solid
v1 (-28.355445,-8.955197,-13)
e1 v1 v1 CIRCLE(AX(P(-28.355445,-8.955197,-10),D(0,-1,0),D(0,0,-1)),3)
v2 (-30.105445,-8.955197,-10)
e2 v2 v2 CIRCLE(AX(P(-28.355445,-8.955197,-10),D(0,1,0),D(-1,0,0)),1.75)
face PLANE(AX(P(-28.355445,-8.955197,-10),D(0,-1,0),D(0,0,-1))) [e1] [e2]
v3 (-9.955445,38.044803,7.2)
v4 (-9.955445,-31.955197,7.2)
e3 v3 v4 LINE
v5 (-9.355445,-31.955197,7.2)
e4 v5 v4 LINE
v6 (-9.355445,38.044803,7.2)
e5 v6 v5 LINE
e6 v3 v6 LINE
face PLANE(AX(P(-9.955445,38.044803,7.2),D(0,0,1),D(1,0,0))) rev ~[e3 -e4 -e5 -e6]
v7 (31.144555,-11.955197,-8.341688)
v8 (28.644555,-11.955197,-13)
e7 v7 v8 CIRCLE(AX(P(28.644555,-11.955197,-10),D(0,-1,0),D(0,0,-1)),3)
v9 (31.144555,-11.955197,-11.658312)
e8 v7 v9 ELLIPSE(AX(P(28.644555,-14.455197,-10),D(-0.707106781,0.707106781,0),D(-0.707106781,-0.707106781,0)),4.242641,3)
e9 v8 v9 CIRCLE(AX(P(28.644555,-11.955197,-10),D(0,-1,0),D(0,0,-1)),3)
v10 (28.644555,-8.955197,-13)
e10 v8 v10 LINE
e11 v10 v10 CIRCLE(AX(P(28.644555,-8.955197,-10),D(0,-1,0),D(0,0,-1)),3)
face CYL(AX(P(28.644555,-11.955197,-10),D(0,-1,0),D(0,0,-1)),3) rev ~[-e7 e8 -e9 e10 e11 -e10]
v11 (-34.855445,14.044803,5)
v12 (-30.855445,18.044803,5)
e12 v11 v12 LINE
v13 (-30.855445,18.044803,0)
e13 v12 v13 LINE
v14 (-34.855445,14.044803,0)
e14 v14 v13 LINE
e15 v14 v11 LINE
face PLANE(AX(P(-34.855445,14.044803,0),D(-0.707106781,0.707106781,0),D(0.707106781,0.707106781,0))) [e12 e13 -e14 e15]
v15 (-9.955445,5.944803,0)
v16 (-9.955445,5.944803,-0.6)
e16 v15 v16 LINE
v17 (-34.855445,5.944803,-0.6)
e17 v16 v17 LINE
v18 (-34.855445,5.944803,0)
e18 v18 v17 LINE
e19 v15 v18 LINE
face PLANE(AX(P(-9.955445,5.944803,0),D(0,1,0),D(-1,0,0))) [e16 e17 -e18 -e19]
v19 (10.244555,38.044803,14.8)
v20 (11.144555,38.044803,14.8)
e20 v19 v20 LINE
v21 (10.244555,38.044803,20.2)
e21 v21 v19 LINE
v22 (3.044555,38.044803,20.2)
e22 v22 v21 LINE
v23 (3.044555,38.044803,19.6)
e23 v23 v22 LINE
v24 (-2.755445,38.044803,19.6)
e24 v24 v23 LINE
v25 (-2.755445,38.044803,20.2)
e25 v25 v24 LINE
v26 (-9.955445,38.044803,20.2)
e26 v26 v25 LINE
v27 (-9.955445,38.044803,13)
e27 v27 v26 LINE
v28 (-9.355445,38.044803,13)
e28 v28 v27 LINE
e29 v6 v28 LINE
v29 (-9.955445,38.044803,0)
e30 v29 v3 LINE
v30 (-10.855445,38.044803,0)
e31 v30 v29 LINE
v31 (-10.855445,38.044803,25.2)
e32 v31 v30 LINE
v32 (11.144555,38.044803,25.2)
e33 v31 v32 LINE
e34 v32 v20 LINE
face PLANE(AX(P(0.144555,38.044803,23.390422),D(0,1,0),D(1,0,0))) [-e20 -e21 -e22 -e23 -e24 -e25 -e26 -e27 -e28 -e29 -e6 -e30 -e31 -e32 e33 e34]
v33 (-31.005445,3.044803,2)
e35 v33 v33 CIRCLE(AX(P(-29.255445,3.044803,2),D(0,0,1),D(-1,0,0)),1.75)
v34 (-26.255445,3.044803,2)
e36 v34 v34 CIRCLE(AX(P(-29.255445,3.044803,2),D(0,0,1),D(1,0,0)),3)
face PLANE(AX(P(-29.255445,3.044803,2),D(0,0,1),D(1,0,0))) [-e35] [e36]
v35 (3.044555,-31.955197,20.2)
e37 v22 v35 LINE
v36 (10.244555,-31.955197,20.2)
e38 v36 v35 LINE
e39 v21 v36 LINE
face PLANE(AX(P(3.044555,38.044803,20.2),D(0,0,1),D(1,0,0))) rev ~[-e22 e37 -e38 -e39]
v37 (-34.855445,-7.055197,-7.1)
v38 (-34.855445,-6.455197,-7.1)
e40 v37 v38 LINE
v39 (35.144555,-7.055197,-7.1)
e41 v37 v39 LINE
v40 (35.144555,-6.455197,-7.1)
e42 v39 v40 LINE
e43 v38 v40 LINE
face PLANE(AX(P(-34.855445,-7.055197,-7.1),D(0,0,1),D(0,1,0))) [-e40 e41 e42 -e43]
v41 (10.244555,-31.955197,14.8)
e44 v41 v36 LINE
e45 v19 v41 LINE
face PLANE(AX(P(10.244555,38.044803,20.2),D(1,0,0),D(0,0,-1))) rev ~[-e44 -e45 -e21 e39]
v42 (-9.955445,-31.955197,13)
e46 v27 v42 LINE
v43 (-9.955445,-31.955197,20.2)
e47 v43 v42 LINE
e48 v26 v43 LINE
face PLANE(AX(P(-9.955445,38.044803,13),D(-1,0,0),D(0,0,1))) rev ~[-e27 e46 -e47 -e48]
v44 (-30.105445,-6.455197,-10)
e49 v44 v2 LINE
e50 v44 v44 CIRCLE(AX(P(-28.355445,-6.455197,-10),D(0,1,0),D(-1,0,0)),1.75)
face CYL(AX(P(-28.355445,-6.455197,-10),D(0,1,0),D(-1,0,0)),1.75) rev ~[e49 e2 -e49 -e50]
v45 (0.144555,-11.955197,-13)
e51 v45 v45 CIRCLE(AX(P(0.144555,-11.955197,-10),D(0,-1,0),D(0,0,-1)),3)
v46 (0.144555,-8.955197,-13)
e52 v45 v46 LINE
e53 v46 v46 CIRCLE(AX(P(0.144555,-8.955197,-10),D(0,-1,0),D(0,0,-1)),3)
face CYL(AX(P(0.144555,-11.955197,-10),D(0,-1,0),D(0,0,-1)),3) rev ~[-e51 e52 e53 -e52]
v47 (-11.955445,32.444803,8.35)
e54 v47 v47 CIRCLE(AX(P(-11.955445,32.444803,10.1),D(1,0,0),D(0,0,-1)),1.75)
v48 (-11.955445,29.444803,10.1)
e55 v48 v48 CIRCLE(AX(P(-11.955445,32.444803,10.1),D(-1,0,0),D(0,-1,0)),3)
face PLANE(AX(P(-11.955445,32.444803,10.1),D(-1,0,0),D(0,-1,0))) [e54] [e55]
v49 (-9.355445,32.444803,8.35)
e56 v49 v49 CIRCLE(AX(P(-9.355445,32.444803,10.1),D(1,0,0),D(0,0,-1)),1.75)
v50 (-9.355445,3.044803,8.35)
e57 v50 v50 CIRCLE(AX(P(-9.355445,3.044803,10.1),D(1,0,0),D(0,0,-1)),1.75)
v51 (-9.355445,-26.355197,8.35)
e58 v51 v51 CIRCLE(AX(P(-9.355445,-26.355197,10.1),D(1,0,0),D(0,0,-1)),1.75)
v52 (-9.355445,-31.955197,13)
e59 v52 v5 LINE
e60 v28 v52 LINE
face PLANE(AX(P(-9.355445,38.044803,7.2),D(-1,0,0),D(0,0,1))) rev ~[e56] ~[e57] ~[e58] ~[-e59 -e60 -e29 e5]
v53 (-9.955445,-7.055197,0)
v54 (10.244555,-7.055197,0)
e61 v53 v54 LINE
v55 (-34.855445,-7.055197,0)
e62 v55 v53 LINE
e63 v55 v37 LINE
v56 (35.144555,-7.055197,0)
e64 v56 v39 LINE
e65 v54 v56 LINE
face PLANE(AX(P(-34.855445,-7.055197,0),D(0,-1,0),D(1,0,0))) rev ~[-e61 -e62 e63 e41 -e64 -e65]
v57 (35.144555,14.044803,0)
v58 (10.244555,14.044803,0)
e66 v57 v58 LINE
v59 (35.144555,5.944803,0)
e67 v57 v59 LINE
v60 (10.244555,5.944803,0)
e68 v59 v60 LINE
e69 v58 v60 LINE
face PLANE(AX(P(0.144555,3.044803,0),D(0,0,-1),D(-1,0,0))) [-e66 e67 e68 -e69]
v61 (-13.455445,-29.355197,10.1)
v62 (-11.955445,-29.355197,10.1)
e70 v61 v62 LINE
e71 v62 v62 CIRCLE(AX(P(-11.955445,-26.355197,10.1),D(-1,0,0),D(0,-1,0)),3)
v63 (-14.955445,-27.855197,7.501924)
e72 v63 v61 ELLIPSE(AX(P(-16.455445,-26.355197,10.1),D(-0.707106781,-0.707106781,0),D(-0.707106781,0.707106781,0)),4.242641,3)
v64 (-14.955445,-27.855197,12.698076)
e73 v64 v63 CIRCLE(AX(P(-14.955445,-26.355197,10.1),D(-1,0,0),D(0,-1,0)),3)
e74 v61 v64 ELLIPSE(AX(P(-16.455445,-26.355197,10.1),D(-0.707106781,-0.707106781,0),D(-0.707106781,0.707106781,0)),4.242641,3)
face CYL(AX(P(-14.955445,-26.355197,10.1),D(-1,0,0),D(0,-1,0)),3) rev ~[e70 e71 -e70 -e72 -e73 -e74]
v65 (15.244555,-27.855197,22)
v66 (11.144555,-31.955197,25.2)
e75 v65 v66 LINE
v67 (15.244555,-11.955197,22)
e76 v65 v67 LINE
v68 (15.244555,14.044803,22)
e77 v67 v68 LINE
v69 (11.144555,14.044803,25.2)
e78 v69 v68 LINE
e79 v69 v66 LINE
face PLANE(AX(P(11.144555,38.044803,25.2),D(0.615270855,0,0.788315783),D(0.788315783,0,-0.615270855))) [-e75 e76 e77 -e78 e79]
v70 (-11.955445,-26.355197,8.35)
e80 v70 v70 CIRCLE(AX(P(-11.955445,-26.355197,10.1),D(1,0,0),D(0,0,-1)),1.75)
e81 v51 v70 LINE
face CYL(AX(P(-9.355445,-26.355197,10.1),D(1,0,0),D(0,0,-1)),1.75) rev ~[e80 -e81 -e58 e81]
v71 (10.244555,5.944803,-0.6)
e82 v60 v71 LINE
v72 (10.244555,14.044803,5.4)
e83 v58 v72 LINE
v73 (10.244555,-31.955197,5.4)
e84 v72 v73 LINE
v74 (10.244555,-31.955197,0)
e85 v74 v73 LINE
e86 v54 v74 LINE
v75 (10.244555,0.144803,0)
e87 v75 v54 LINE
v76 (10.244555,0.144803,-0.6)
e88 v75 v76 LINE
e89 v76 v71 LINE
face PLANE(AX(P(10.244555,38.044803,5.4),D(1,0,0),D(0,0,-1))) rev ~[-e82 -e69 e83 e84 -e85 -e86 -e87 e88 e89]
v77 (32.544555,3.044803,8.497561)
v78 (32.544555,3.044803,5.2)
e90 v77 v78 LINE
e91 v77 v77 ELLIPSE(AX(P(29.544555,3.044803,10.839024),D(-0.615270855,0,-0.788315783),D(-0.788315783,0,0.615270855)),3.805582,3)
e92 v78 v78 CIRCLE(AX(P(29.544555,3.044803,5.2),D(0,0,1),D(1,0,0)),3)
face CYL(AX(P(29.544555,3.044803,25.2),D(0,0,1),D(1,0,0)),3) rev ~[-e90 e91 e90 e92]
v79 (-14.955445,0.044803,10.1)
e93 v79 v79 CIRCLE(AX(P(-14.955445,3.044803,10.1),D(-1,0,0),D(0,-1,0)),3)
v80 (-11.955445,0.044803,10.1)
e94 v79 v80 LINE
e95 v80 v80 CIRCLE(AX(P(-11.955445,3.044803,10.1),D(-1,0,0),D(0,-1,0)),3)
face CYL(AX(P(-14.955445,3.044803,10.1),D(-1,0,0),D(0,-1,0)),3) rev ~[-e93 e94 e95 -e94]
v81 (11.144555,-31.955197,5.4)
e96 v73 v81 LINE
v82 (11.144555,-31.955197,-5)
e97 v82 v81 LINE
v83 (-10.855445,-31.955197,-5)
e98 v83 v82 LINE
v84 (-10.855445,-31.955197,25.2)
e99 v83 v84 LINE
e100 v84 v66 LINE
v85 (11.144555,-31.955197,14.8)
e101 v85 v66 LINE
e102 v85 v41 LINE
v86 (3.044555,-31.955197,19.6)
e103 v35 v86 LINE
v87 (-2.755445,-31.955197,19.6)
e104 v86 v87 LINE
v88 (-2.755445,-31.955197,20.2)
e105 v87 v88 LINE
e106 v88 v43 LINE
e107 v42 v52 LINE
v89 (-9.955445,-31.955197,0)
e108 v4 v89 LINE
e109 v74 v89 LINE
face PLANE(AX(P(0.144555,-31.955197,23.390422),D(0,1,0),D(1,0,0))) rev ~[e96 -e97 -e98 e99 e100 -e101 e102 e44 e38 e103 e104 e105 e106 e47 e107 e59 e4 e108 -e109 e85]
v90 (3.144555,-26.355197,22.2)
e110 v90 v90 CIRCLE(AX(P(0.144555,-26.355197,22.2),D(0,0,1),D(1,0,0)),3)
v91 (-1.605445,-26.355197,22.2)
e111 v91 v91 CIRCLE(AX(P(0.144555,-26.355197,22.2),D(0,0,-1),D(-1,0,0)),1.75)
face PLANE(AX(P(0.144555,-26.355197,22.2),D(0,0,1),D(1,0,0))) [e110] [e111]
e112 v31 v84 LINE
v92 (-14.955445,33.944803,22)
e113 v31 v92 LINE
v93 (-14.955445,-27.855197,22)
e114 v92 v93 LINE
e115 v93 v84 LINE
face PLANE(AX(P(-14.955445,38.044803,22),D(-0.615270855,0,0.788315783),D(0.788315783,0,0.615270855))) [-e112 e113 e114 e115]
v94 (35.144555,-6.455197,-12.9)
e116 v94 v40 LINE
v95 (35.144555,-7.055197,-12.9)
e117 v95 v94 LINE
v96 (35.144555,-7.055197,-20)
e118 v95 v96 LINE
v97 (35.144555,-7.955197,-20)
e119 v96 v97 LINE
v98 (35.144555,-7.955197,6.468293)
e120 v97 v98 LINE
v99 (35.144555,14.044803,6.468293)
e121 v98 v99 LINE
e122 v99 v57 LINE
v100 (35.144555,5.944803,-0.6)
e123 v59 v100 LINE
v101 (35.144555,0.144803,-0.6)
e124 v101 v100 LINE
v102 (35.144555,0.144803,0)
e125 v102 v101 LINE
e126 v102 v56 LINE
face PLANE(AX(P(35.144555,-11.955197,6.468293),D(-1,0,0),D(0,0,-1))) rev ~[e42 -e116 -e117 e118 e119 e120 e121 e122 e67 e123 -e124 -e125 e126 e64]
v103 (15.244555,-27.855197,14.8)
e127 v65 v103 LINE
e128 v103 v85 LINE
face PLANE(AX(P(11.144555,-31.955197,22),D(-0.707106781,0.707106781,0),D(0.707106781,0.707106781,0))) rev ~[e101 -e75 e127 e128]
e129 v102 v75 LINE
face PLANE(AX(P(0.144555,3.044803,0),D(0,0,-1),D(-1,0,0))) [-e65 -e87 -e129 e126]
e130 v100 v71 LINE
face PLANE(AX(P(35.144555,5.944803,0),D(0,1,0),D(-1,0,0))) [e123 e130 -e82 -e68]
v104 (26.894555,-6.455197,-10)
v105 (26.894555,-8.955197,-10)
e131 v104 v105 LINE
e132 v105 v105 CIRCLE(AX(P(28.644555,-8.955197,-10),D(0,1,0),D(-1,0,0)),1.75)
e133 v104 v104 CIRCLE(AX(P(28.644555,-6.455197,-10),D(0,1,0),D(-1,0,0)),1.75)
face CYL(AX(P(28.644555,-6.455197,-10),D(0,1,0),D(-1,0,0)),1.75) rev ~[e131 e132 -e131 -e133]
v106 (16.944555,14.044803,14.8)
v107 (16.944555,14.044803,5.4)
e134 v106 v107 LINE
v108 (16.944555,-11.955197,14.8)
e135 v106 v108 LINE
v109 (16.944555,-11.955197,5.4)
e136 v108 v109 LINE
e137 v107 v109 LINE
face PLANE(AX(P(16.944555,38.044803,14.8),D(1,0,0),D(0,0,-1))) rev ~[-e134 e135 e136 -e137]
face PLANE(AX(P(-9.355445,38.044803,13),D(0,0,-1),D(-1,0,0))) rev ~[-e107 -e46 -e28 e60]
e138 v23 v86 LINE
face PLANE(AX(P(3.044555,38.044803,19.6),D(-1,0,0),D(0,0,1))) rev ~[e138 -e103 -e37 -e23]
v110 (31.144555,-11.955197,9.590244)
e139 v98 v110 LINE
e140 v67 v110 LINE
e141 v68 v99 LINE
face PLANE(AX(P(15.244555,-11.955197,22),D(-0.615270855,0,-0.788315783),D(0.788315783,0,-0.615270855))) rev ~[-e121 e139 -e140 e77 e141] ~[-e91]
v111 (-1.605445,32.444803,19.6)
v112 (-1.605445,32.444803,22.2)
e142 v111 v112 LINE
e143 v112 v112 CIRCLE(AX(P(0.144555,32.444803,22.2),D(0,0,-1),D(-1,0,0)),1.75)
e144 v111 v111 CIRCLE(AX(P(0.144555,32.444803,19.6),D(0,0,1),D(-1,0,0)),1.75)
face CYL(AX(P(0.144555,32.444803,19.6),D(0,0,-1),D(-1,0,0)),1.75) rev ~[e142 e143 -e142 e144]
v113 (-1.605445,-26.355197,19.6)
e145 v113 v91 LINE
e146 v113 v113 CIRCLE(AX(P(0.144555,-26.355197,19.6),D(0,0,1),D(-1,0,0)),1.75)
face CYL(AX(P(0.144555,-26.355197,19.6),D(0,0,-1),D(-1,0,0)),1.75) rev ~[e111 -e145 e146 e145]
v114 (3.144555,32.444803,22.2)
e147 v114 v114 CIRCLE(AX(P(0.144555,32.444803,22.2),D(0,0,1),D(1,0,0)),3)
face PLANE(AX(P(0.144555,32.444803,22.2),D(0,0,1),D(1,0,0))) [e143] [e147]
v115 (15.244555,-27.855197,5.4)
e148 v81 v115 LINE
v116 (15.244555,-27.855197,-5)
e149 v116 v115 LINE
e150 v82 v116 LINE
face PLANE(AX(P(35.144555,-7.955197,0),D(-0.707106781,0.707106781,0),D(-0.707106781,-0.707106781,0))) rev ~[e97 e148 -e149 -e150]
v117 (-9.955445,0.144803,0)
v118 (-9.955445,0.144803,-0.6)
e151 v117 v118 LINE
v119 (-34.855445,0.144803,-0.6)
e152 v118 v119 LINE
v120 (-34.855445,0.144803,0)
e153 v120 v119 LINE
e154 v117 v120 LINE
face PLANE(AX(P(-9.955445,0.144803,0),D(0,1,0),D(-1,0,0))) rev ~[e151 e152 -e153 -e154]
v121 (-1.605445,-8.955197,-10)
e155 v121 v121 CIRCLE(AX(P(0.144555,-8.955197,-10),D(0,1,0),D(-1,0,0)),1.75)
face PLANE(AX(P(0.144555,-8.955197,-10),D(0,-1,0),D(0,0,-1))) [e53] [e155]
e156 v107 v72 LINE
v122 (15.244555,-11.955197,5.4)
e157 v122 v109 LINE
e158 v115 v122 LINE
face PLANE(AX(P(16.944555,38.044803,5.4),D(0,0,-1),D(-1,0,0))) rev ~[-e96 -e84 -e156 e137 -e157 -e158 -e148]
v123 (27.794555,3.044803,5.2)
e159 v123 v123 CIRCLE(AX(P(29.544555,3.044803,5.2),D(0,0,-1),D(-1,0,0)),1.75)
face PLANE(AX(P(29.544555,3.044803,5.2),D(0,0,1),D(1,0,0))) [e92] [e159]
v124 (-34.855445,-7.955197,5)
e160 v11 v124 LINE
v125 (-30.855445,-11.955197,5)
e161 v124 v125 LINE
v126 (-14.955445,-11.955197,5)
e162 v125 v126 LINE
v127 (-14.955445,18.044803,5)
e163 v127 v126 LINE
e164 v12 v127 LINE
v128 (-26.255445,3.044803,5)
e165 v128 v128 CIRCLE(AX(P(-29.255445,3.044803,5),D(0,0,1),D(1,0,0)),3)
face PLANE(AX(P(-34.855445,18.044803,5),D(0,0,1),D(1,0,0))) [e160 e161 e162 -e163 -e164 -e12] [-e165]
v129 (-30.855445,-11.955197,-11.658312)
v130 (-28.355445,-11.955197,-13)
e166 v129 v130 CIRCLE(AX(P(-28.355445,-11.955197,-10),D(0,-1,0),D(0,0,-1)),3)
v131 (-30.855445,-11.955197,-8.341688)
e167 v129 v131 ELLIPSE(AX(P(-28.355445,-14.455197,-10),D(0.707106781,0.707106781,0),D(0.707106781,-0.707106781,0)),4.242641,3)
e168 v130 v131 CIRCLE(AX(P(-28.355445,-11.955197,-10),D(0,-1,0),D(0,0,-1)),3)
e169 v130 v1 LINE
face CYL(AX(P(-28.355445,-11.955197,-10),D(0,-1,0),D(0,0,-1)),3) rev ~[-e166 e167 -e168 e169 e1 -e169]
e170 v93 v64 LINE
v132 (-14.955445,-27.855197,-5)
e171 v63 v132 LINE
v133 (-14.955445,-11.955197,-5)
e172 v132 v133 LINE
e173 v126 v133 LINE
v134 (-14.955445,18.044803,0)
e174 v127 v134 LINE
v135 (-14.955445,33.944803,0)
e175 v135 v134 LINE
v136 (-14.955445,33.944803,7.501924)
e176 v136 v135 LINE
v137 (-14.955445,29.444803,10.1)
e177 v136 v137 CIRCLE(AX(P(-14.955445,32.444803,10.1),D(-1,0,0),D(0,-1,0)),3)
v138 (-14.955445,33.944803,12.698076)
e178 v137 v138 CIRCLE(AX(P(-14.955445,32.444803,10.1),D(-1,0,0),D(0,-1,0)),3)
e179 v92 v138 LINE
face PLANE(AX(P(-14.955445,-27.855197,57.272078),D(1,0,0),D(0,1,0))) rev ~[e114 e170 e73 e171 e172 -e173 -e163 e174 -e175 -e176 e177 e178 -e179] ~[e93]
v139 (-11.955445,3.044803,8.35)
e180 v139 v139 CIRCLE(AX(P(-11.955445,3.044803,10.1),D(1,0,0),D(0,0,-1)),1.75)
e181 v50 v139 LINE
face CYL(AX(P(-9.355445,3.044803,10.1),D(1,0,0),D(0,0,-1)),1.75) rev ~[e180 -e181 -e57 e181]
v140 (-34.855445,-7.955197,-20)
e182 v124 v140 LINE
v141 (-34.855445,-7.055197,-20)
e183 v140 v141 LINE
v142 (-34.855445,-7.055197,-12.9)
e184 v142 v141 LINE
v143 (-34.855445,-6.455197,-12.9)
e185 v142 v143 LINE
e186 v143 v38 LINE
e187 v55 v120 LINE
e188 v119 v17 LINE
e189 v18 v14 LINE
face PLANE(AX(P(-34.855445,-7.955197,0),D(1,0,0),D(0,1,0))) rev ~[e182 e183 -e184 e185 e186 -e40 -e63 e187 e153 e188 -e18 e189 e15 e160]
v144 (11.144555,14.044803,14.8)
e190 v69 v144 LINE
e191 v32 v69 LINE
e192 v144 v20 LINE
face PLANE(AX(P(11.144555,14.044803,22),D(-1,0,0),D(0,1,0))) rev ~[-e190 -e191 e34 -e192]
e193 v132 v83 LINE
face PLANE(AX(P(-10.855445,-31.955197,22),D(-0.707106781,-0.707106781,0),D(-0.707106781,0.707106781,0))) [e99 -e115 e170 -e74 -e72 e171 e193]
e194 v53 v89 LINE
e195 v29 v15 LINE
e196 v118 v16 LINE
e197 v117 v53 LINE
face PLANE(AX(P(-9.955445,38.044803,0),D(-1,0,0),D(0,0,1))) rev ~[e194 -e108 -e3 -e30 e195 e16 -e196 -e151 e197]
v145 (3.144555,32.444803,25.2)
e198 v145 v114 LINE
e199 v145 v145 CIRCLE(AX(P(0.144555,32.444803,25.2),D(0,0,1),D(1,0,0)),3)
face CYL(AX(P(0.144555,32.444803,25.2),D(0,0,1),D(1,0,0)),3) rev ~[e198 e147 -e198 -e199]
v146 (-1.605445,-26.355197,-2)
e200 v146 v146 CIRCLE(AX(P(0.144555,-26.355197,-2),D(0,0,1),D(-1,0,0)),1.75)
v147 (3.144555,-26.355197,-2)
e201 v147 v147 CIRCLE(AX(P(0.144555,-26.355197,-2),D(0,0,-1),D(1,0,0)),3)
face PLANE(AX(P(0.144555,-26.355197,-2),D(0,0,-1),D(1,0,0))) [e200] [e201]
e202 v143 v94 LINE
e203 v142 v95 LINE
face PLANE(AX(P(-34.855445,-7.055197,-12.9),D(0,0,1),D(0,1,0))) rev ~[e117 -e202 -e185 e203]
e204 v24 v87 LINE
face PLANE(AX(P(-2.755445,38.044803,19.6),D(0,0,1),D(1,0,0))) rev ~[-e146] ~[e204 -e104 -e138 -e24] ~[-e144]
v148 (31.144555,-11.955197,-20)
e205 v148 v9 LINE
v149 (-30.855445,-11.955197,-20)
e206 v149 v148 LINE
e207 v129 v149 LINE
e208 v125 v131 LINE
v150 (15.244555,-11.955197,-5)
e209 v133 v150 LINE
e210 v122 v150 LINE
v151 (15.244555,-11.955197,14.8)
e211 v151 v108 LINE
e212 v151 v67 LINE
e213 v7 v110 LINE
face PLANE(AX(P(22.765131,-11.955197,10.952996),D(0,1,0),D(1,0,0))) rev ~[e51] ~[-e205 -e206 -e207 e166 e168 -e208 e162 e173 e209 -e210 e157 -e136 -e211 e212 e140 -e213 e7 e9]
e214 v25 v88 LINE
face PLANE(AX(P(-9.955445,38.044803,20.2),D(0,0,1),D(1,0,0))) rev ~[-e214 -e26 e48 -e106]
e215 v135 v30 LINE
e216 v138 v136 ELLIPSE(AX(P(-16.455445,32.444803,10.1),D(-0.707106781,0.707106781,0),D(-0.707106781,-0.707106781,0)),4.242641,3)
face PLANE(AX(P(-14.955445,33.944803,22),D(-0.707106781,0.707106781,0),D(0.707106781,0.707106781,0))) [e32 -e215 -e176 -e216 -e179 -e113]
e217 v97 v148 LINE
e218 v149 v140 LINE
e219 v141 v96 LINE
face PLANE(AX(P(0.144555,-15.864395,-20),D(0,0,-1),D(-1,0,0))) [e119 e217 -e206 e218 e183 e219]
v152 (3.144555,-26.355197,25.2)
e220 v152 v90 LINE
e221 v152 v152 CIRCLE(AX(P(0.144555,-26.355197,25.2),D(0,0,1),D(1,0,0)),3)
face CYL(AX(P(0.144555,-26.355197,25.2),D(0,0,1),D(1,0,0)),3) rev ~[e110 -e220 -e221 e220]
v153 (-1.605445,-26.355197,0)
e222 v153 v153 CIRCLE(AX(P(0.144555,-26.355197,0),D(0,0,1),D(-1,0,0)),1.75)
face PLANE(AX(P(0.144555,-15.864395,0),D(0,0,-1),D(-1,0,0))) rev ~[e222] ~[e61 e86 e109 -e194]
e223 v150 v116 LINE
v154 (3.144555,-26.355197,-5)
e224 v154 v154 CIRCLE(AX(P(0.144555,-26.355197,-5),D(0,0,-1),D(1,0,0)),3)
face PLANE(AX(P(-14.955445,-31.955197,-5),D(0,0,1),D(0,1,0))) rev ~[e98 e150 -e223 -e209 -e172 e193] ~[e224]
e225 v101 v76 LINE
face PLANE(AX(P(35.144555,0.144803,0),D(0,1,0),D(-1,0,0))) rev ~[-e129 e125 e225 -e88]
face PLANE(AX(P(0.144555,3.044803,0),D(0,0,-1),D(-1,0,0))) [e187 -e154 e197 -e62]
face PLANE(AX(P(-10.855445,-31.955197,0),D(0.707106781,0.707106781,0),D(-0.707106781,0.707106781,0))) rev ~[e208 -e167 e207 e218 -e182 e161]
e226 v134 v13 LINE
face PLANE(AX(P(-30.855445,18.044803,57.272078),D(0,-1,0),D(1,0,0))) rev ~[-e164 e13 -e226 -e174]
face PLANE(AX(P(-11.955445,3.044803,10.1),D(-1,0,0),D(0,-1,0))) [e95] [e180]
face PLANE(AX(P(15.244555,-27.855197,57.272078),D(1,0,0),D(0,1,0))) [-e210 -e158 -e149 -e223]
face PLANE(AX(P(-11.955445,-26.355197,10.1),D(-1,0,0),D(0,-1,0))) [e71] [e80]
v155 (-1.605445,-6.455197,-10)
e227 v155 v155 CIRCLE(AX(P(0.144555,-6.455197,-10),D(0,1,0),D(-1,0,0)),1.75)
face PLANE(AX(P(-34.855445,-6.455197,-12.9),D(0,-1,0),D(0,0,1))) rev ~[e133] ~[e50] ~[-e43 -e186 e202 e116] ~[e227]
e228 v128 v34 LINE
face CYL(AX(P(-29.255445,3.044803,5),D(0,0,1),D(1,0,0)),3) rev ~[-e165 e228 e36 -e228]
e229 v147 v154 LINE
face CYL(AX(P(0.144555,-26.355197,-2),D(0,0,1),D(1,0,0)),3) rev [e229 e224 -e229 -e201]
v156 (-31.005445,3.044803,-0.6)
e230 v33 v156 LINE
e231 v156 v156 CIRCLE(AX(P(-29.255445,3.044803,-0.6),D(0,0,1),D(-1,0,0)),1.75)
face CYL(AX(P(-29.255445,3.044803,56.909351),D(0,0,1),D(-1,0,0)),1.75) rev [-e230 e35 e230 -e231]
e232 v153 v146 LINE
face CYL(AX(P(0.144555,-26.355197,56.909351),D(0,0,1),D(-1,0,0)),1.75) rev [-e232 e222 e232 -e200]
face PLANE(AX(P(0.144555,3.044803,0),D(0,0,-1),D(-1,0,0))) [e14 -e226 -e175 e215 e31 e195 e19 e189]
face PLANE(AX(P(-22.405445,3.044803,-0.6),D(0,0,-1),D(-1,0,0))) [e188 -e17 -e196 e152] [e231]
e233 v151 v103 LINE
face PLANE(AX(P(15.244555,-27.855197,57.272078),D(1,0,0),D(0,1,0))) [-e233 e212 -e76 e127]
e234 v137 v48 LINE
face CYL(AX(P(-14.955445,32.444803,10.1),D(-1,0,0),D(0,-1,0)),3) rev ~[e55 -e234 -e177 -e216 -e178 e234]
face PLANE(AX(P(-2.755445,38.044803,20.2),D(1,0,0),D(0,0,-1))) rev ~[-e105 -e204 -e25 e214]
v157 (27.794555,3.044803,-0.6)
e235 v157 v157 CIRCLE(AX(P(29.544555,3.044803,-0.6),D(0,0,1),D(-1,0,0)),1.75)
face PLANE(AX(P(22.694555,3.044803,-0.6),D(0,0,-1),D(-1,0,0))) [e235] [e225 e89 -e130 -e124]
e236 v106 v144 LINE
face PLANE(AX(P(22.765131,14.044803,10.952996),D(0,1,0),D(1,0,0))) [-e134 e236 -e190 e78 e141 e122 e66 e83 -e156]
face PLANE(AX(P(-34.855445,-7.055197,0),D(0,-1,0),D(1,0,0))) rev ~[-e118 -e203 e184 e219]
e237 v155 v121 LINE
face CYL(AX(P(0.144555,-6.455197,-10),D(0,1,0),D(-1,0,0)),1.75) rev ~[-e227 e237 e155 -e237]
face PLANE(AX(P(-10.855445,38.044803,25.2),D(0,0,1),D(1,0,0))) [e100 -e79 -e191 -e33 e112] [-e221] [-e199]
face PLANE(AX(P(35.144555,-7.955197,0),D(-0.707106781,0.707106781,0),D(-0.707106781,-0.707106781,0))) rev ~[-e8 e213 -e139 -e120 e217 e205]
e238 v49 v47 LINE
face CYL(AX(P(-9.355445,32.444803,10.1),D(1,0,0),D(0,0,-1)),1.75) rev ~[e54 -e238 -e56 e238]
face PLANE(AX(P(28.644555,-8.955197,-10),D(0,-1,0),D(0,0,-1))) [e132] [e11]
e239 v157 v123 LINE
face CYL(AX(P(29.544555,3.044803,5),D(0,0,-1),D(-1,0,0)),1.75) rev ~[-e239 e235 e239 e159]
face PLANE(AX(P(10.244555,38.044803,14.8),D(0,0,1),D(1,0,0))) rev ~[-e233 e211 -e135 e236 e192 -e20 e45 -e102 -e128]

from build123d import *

# Parameters (mm, degrees)
EXTRUDE_1_DEPTH          = 22
CUT_EXTRUDE_2_DEPTH      = 82.358095651
SKETCH_3_W               = 24.9
SKETCH_3_H               = 5.8
EXTRUDE_2_DEPTH          = 0.6
CUT_EXTRUDE_3_DEPTH      = 57.272077989
EXTRUDE_3_DEPTH          = 20
CUT_EXTRUDE_4_DEPTH      = 57.272077989
CUT_EXTRUDE_4_DEPTH_BACK = 57.272077989
SKETCH_7_W               = 19.9
SKETCH_7_H               = 17
CUT_EXTRUDE_5_DEPTH      = 65.954905342
SKETCH_8_W               = 15
SKETCH_8_H               = 20
CUT_EXTRUDE_6_DEPTH      = 67.643957215
CUT_EXTRUDE_7_DEPTH      = 57.509351096
CUT_EXTRUDE_7_DEPTH_BACK = 57.509351096
SKETCH_9_R               = 1.75
SKETCH_10_R              = 1.75
CUT_EXTRUDE_8_DEPTH      = 63.543241308
SKETCH_11_W              = 0.9
SKETCH_11_H              = 24
CUT_EXTRUDE_9_DEPTH      = 10
EXTRUDE_4_DEPTH          = 70
SKETCH_13_W              = 4.1
SKETCH_13_H              = 24
CUT_EXTRUDE_10_DEPTH     = 67.682432179
SKETCH_14_R              = 1.75
CUT_EXTRUDE_11_DEPTH     = 66.197444438
SKETCH_15_W              = 5.8
SKETCH_15_H              = 0.6
EXTRUDE_5_DEPTH          = 70
SKETCH_16_R              = 1.75
CUT_EXTRUDE_12_DEPTH     = 63.05183098
EXTRUDE_START            = -26
EXTRUDE_6_DEPTH          = 26
SKETCH_18_R              = 1.75
CUT_EXTRUDE_13_DEPTH     = 58.511275079
SKETCH_20_R              = 3
CUT_EXTRUDE_17_DEPTH     = 3
SKETCH_21_R              = 3
CUT_EXTRUDE_18_DEPTH     = 20
SKETCH_22_R              = 3
CUT_EXTRUDE_19_DEPTH     = 3
SKETCH_23_R              = 3
CUT_EXTRUDE_20_DEPTH     = 3
CUT_EXTRUDE_START        = -3
SKETCH_24_R              = 3
CUT_EXTRUDE_21_DEPTH     = 3
SKETCH_25_R              = 3
CUT_EXTRUDE_22_DEPTH     = 3
SKETCH_26_W              = 6.7
SKETCH_26_H              = 9.4
CUT_EXTRUDE_23_DEPTH     = 83.281101889


with BuildPart() as part:
    # 草图1 → 凸台-拉伸1 (new body)
    with BuildSketch(Plane.XY):
        Polygon((-34.855445258, 14.044802973), (-10.855445258, 38.044802973), (11.144554742, 38.044802973), (35.144554742, 14.044802973), (35.144554742, -7.955197027), (11.144554742, -31.955197027), (-10.855445258, -31.955197027), (-34.855445258, -7.955197027), align=None)
    extrude(amount=EXTRUDE_1_DEPTH)

    # 草图2 → 切除-拉伸2 (cut, through all)
    with BuildSketch(Plane(origin=(0, 38.044802973, 0), x_dir=(1, 0, 0), z_dir=(0, 1, 0))):
        Polygon((10.244554742, 0), (-9.955445258, 0), (-9.955445258, -7.2), (-9.355445258, -7.2), (-9.355445258, -13), (-9.955445258, -13), (-9.955445258, -20.2), (-2.755445258, -20.2), (-2.755445258, -19.6), (3.044554742, -19.6), (3.044554742, -20.2), (10.244554742, -20.2), (10.244554742, -14.8), (16.944554742, -14.8), (16.944554742, -5.4), (10.244554742, -5.4), align=None)
    extrude(amount=-CUT_EXTRUDE_2_DEPTH, mode=Mode.SUBTRACT)

    # 草图3 → 凸台-拉伸2 (add)
    with BuildSketch(Plane(origin=(0, 0, 0), x_dir=(-1, 0, 0), z_dir=(0, 0, -1))):
        with Locations((22.405445258, 3.044802973)):
            Rectangle(SKETCH_3_W, SKETCH_3_H)
        with Locations((-22.694554742, 3.044802973)):
            Rectangle(SKETCH_3_W, SKETCH_3_H)
    extrude(amount=EXTRUDE_2_DEPTH)

    # 草图4 → 切除-拉伸3 (cut, through all)
    with BuildSketch(Plane(origin=(0, 0, 0), x_dir=(-1, 0, 0), z_dir=(0, 0, -1))):
        Polygon((-35.144554742, 14.044802973), (-11.144554742, 38.044802973), (-11.144554742, 14.044802973), align=None)
    extrude(amount=-CUT_EXTRUDE_3_DEPTH, mode=Mode.SUBTRACT)

    # 草图5 → 凸台-拉伸3 (add)
    with BuildSketch(Plane(origin=(0, 0, 0), x_dir=(-1, 0, 0), z_dir=(0, 0, -1))):
        Polygon((-11.144554742, -31.955197027), (10.855445258, -31.955197027), (34.855445258, -7.955197027), (34.855445258, -7.055197027), (-35.144554742, -7.055197027), (-35.144554742, -7.955197027), align=None)
    extrude(amount=EXTRUDE_3_DEPTH)

    # 草图6 → 切除-拉伸4 (cut, two sides: drawn at the far end of the back side and taken through both)
    with BuildSketch(Plane(origin=(0, 0, 0), x_dir=(-1, 0, 0), z_dir=(0, 0, -1)).offset(-CUT_EXTRUDE_4_DEPTH_BACK)):
        Polygon((14.955445258, 33.944802973), (30.855445258, 18.044802973), (14.955445258, 18.044802973), align=None)
        Polygon((14.955445258, -11.955197027), (30.855445258, -11.955197027), (14.955445258, -27.855197027), align=None)
        Polygon((-15.244554742, -11.955197027), (-31.144554742, -11.955197027), (-15.244554742, -27.855197027), align=None)
    extrude(amount=CUT_EXTRUDE_4_DEPTH + CUT_EXTRUDE_4_DEPTH_BACK, mode=Mode.SUBTRACT)

    # 草图7 → 切除-拉伸5 (cut, through all)
    with BuildSketch(Plane(origin=(0, 18.044802973, 0), x_dir=(1, 0, 0), z_dir=(0, 1, 0))):
        with Locations((-24.905445258, -13.5)):
            Rectangle(SKETCH_7_W, SKETCH_7_H)
        with Locations((25.194554742, -13.5)):
            Rectangle(SKETCH_7_W, SKETCH_7_H)
    extrude(amount=-CUT_EXTRUDE_5_DEPTH, mode=Mode.SUBTRACT)

    # 草图8 → 切除-拉伸6 (cut, through all)
    with BuildSketch(Plane.ZY.offset(14.955445258)):
        with Locations((-12.5, -21.955197027)):
            Rectangle(SKETCH_8_W, SKETCH_8_H)
    extrude(amount=-CUT_EXTRUDE_6_DEPTH, mode=Mode.SUBTRACT)

    # 草图9 → 切除-拉伸7 (cut, two sides: drawn at the far end of the back side and taken through both)
    with BuildSketch(Plane(origin=(0, 0, -0.6), x_dir=(-1, 0, 0), z_dir=(0, 0, -1)).offset(-CUT_EXTRUDE_7_DEPTH_BACK)):
        with Locations((-29.544554742, 3.044802973)):
            Circle(SKETCH_9_R)
        with Locations((29.255445258, 3.044802973)):
            Circle(SKETCH_9_R)
        with Locations((-0.144554742, 32.444802973)):
            Circle(SKETCH_9_R)
        with Locations((-0.144554742, -26.355197027)):
            Circle(SKETCH_9_R)
    extrude(amount=CUT_EXTRUDE_7_DEPTH + CUT_EXTRUDE_7_DEPTH_BACK, mode=Mode.SUBTRACT)

    # 草图10 → 切除-拉伸8 (cut, through all)
    with BuildSketch(Plane(origin=(-9.355445258, 0, 0), x_dir=(0, 0, -1), z_dir=(1, 0, 0))):
        with Locations((-10.1, 32.444802973)):
            Circle(SKETCH_10_R)
        with Locations((-10.1, -26.355197027)):
            Circle(SKETCH_10_R)
        with Locations((-10.1, 3.044802973)):
            Circle(SKETCH_10_R)
    extrude(amount=-CUT_EXTRUDE_8_DEPTH, mode=Mode.SUBTRACT)

    # 草图11 → 切除-拉伸9 (cut)
    with BuildSketch(Plane(origin=(0, 0, 0), x_dir=(-1, 0, 0), z_dir=(0, 0, -1))):
        with Locations((-10.694554742, 26.044802973)):
            Rectangle(SKETCH_11_W, SKETCH_11_H)
    extrude(amount=-CUT_EXTRUDE_9_DEPTH, mode=Mode.SUBTRACT)

    # 草图12 → 凸台-拉伸4 (add)
    with BuildSketch(Plane(origin=(0, 38.044802973, 0), x_dir=(1, 0, 0), z_dir=(0, 1, 0))):
        Polygon((-14.955445258, -22), (-10.855445258, -25.2), (11.144554742, -25.2), (15.244554742, -22), align=None)
    extrude(amount=-EXTRUDE_4_DEPTH)

    # 草图13 → 切除-拉伸10 (cut, through all)
    with BuildSketch(Plane(origin=(0, 0, 22), x_dir=(-1, 0, 0), z_dir=(0, 0, -1))):
        Polygon((10.855445258, 38.044802973), (14.955445258, 38.044802973), (14.955445258, 33.944802973), align=None)
        with Locations((-13.194554742, 26.044802973)):
            Rectangle(SKETCH_13_W, SKETCH_13_H)
        Polygon((14.955445258, -27.855197027), (14.955445258, -31.955197027), (10.855445258, -31.955197027), align=None)
        Polygon((-15.244554742, -31.955197027), (-11.144554742, -31.955197027), (-15.244554742, -27.855197027), align=None)
    extrude(amount=-CUT_EXTRUDE_10_DEPTH, mode=Mode.SUBTRACT)

    # 草图14 → 切除-拉伸11 (cut, through all)
    with BuildSketch(Plane(origin=(0, 0, 19.6), x_dir=(-1, 0, 0), z_dir=(0, 0, -1))):
        with Locations((-0.144554742, 32.444802973)):
            Circle(SKETCH_14_R)
        with Locations((-0.144554742, -26.355197027)):
            Circle(SKETCH_14_R)
    extrude(amount=-CUT_EXTRUDE_11_DEPTH, mode=Mode.SUBTRACT)

    # 草图15 → 凸台-拉伸5 (add)
    with BuildSketch(Plane.ZY.offset(34.855445258)):
        with Locations((-10, -6.755197027)):
            Rectangle(SKETCH_15_W, SKETCH_15_H)
    extrude(amount=-EXTRUDE_5_DEPTH)

    # 草图16 → 切除-拉伸12 (cut, through all)
    with BuildSketch(Plane(origin=(0, -6.455197027, 0), x_dir=(1, 0, 0), z_dir=(0, 1, 0))):
        with Locations(Location((-28.355445258, 10, 0), (0, 0, 180))):
            Circle(SKETCH_16_R)
        with Locations(Location((28.644554742, 10, 0), (0, 0, 180))):
            Circle(SKETCH_16_R)
        with Locations(Location((0.144554742, 10, 0), (0, 0, 180))):
            Circle(SKETCH_16_R)
    extrude(amount=-CUT_EXTRUDE_12_DEPTH, mode=Mode.SUBTRACT)

    # 草图17 → 凸台-拉伸6 (add)
    with BuildSketch(Plane(origin=(0, 14.044802973, 0), x_dir=(1, 0, 0), z_dir=(0, 1, 0)).offset(EXTRUDE_START)):
        Polygon((15.244554742, -5), (15.244554742, -22), (35.144554742, -6.468292683), (35.144554742, -5), align=None)
    extrude(amount=EXTRUDE_6_DEPTH)

    # 草图18 → 切除-拉伸13 (cut, through all)
    with BuildSketch(Plane(origin=(0, 0, 5), x_dir=(-1, 0, 0), z_dir=(0, 0, -1))):
        with Locations((-29.544554742, 3.044802973)):
            Circle(SKETCH_18_R)
        Polygon((-35.144554742, -11.955197027), (-35.144554742, -7.955197027), (-31.144554742, -11.955197027), align=None)
    extrude(amount=-CUT_EXTRUDE_13_DEPTH, mode=Mode.SUBTRACT)

    # 草图20 → 切除-拉伸17 (cut)
    with BuildSketch(Plane.XY.offset(25.2)):
        with Locations((0.144554742, 32.444802973)):
            Circle(SKETCH_20_R)
        with Locations((0.144554742, -26.355197027)):
            Circle(SKETCH_20_R)
    extrude(amount=-CUT_EXTRUDE_17_DEPTH, mode=Mode.SUBTRACT)

    # 草图21 → 切除-拉伸18 (cut)
    with BuildSketch(Plane.XY.offset(25.2)):
        with Locations((29.544554742, 3.044802973)):
            Circle(SKETCH_21_R)
    extrude(amount=-CUT_EXTRUDE_18_DEPTH, mode=Mode.SUBTRACT)

    # 草图22 → 切除-拉伸19 (cut)
    with BuildSketch(Plane.ZY.offset(14.955445258)):
        with Locations(Location((10.1, 32.444802973, 0), (0, 0, 270))):
            Circle(SKETCH_22_R)
        with Locations(Location((10.1, 3.044802973, 0), (0, 0, 270))):
            Circle(SKETCH_22_R)
        with Locations(Location((10.1, -26.355197027, 0), (0, 0, 270))):
            Circle(SKETCH_22_R)
    extrude(amount=-CUT_EXTRUDE_19_DEPTH, mode=Mode.SUBTRACT)

    # 草图23 → 切除-拉伸20 (cut)
    with BuildSketch(Plane.XZ.offset(11.955197027)):
        with Locations(Location((-28.355445258, -10, 0), (0, 0, 270))):
            Circle(SKETCH_23_R)
        with Locations(Location((0.144554742, -10, 0), (0, 0, 270))):
            Circle(SKETCH_23_R)
        with Locations(Location((28.644554742, -10, 0), (0, 0, 270))):
            Circle(SKETCH_23_R)
    extrude(amount=-CUT_EXTRUDE_20_DEPTH, mode=Mode.SUBTRACT)

    # 草图24 → 切除-拉伸21 (cut)
    with BuildSketch(Plane(origin=(0, 0, -5), x_dir=(-1, 0, 0), z_dir=(0, 0, -1)).offset(CUT_EXTRUDE_START)):
        with Locations(Location((-0.144554742, -26.355197027, 0), (0, 0, 180))):
            Circle(SKETCH_24_R)
    extrude(amount=CUT_EXTRUDE_21_DEPTH, mode=Mode.SUBTRACT)

    # 草图25 → 切除-拉伸22 (cut)
    with BuildSketch(Plane.XY.offset(5)):
        with Locations((-29.255445258, 3.044802973)):
            Circle(SKETCH_25_R)
    extrude(amount=-CUT_EXTRUDE_22_DEPTH, mode=Mode.SUBTRACT)

    # 草图26 → 切除-拉伸23 (cut, through all)
    with BuildSketch(Plane(origin=(0, 38.044802973, 0), x_dir=(1, 0, 0), z_dir=(0, 1, 0))):
        with Locations((13.594554742, -10.1)):
            Rectangle(SKETCH_26_W, SKETCH_26_H)
    extrude(amount=-CUT_EXTRUDE_23_DEPTH, mode=Mode.SUBTRACT)


solid = part.part
